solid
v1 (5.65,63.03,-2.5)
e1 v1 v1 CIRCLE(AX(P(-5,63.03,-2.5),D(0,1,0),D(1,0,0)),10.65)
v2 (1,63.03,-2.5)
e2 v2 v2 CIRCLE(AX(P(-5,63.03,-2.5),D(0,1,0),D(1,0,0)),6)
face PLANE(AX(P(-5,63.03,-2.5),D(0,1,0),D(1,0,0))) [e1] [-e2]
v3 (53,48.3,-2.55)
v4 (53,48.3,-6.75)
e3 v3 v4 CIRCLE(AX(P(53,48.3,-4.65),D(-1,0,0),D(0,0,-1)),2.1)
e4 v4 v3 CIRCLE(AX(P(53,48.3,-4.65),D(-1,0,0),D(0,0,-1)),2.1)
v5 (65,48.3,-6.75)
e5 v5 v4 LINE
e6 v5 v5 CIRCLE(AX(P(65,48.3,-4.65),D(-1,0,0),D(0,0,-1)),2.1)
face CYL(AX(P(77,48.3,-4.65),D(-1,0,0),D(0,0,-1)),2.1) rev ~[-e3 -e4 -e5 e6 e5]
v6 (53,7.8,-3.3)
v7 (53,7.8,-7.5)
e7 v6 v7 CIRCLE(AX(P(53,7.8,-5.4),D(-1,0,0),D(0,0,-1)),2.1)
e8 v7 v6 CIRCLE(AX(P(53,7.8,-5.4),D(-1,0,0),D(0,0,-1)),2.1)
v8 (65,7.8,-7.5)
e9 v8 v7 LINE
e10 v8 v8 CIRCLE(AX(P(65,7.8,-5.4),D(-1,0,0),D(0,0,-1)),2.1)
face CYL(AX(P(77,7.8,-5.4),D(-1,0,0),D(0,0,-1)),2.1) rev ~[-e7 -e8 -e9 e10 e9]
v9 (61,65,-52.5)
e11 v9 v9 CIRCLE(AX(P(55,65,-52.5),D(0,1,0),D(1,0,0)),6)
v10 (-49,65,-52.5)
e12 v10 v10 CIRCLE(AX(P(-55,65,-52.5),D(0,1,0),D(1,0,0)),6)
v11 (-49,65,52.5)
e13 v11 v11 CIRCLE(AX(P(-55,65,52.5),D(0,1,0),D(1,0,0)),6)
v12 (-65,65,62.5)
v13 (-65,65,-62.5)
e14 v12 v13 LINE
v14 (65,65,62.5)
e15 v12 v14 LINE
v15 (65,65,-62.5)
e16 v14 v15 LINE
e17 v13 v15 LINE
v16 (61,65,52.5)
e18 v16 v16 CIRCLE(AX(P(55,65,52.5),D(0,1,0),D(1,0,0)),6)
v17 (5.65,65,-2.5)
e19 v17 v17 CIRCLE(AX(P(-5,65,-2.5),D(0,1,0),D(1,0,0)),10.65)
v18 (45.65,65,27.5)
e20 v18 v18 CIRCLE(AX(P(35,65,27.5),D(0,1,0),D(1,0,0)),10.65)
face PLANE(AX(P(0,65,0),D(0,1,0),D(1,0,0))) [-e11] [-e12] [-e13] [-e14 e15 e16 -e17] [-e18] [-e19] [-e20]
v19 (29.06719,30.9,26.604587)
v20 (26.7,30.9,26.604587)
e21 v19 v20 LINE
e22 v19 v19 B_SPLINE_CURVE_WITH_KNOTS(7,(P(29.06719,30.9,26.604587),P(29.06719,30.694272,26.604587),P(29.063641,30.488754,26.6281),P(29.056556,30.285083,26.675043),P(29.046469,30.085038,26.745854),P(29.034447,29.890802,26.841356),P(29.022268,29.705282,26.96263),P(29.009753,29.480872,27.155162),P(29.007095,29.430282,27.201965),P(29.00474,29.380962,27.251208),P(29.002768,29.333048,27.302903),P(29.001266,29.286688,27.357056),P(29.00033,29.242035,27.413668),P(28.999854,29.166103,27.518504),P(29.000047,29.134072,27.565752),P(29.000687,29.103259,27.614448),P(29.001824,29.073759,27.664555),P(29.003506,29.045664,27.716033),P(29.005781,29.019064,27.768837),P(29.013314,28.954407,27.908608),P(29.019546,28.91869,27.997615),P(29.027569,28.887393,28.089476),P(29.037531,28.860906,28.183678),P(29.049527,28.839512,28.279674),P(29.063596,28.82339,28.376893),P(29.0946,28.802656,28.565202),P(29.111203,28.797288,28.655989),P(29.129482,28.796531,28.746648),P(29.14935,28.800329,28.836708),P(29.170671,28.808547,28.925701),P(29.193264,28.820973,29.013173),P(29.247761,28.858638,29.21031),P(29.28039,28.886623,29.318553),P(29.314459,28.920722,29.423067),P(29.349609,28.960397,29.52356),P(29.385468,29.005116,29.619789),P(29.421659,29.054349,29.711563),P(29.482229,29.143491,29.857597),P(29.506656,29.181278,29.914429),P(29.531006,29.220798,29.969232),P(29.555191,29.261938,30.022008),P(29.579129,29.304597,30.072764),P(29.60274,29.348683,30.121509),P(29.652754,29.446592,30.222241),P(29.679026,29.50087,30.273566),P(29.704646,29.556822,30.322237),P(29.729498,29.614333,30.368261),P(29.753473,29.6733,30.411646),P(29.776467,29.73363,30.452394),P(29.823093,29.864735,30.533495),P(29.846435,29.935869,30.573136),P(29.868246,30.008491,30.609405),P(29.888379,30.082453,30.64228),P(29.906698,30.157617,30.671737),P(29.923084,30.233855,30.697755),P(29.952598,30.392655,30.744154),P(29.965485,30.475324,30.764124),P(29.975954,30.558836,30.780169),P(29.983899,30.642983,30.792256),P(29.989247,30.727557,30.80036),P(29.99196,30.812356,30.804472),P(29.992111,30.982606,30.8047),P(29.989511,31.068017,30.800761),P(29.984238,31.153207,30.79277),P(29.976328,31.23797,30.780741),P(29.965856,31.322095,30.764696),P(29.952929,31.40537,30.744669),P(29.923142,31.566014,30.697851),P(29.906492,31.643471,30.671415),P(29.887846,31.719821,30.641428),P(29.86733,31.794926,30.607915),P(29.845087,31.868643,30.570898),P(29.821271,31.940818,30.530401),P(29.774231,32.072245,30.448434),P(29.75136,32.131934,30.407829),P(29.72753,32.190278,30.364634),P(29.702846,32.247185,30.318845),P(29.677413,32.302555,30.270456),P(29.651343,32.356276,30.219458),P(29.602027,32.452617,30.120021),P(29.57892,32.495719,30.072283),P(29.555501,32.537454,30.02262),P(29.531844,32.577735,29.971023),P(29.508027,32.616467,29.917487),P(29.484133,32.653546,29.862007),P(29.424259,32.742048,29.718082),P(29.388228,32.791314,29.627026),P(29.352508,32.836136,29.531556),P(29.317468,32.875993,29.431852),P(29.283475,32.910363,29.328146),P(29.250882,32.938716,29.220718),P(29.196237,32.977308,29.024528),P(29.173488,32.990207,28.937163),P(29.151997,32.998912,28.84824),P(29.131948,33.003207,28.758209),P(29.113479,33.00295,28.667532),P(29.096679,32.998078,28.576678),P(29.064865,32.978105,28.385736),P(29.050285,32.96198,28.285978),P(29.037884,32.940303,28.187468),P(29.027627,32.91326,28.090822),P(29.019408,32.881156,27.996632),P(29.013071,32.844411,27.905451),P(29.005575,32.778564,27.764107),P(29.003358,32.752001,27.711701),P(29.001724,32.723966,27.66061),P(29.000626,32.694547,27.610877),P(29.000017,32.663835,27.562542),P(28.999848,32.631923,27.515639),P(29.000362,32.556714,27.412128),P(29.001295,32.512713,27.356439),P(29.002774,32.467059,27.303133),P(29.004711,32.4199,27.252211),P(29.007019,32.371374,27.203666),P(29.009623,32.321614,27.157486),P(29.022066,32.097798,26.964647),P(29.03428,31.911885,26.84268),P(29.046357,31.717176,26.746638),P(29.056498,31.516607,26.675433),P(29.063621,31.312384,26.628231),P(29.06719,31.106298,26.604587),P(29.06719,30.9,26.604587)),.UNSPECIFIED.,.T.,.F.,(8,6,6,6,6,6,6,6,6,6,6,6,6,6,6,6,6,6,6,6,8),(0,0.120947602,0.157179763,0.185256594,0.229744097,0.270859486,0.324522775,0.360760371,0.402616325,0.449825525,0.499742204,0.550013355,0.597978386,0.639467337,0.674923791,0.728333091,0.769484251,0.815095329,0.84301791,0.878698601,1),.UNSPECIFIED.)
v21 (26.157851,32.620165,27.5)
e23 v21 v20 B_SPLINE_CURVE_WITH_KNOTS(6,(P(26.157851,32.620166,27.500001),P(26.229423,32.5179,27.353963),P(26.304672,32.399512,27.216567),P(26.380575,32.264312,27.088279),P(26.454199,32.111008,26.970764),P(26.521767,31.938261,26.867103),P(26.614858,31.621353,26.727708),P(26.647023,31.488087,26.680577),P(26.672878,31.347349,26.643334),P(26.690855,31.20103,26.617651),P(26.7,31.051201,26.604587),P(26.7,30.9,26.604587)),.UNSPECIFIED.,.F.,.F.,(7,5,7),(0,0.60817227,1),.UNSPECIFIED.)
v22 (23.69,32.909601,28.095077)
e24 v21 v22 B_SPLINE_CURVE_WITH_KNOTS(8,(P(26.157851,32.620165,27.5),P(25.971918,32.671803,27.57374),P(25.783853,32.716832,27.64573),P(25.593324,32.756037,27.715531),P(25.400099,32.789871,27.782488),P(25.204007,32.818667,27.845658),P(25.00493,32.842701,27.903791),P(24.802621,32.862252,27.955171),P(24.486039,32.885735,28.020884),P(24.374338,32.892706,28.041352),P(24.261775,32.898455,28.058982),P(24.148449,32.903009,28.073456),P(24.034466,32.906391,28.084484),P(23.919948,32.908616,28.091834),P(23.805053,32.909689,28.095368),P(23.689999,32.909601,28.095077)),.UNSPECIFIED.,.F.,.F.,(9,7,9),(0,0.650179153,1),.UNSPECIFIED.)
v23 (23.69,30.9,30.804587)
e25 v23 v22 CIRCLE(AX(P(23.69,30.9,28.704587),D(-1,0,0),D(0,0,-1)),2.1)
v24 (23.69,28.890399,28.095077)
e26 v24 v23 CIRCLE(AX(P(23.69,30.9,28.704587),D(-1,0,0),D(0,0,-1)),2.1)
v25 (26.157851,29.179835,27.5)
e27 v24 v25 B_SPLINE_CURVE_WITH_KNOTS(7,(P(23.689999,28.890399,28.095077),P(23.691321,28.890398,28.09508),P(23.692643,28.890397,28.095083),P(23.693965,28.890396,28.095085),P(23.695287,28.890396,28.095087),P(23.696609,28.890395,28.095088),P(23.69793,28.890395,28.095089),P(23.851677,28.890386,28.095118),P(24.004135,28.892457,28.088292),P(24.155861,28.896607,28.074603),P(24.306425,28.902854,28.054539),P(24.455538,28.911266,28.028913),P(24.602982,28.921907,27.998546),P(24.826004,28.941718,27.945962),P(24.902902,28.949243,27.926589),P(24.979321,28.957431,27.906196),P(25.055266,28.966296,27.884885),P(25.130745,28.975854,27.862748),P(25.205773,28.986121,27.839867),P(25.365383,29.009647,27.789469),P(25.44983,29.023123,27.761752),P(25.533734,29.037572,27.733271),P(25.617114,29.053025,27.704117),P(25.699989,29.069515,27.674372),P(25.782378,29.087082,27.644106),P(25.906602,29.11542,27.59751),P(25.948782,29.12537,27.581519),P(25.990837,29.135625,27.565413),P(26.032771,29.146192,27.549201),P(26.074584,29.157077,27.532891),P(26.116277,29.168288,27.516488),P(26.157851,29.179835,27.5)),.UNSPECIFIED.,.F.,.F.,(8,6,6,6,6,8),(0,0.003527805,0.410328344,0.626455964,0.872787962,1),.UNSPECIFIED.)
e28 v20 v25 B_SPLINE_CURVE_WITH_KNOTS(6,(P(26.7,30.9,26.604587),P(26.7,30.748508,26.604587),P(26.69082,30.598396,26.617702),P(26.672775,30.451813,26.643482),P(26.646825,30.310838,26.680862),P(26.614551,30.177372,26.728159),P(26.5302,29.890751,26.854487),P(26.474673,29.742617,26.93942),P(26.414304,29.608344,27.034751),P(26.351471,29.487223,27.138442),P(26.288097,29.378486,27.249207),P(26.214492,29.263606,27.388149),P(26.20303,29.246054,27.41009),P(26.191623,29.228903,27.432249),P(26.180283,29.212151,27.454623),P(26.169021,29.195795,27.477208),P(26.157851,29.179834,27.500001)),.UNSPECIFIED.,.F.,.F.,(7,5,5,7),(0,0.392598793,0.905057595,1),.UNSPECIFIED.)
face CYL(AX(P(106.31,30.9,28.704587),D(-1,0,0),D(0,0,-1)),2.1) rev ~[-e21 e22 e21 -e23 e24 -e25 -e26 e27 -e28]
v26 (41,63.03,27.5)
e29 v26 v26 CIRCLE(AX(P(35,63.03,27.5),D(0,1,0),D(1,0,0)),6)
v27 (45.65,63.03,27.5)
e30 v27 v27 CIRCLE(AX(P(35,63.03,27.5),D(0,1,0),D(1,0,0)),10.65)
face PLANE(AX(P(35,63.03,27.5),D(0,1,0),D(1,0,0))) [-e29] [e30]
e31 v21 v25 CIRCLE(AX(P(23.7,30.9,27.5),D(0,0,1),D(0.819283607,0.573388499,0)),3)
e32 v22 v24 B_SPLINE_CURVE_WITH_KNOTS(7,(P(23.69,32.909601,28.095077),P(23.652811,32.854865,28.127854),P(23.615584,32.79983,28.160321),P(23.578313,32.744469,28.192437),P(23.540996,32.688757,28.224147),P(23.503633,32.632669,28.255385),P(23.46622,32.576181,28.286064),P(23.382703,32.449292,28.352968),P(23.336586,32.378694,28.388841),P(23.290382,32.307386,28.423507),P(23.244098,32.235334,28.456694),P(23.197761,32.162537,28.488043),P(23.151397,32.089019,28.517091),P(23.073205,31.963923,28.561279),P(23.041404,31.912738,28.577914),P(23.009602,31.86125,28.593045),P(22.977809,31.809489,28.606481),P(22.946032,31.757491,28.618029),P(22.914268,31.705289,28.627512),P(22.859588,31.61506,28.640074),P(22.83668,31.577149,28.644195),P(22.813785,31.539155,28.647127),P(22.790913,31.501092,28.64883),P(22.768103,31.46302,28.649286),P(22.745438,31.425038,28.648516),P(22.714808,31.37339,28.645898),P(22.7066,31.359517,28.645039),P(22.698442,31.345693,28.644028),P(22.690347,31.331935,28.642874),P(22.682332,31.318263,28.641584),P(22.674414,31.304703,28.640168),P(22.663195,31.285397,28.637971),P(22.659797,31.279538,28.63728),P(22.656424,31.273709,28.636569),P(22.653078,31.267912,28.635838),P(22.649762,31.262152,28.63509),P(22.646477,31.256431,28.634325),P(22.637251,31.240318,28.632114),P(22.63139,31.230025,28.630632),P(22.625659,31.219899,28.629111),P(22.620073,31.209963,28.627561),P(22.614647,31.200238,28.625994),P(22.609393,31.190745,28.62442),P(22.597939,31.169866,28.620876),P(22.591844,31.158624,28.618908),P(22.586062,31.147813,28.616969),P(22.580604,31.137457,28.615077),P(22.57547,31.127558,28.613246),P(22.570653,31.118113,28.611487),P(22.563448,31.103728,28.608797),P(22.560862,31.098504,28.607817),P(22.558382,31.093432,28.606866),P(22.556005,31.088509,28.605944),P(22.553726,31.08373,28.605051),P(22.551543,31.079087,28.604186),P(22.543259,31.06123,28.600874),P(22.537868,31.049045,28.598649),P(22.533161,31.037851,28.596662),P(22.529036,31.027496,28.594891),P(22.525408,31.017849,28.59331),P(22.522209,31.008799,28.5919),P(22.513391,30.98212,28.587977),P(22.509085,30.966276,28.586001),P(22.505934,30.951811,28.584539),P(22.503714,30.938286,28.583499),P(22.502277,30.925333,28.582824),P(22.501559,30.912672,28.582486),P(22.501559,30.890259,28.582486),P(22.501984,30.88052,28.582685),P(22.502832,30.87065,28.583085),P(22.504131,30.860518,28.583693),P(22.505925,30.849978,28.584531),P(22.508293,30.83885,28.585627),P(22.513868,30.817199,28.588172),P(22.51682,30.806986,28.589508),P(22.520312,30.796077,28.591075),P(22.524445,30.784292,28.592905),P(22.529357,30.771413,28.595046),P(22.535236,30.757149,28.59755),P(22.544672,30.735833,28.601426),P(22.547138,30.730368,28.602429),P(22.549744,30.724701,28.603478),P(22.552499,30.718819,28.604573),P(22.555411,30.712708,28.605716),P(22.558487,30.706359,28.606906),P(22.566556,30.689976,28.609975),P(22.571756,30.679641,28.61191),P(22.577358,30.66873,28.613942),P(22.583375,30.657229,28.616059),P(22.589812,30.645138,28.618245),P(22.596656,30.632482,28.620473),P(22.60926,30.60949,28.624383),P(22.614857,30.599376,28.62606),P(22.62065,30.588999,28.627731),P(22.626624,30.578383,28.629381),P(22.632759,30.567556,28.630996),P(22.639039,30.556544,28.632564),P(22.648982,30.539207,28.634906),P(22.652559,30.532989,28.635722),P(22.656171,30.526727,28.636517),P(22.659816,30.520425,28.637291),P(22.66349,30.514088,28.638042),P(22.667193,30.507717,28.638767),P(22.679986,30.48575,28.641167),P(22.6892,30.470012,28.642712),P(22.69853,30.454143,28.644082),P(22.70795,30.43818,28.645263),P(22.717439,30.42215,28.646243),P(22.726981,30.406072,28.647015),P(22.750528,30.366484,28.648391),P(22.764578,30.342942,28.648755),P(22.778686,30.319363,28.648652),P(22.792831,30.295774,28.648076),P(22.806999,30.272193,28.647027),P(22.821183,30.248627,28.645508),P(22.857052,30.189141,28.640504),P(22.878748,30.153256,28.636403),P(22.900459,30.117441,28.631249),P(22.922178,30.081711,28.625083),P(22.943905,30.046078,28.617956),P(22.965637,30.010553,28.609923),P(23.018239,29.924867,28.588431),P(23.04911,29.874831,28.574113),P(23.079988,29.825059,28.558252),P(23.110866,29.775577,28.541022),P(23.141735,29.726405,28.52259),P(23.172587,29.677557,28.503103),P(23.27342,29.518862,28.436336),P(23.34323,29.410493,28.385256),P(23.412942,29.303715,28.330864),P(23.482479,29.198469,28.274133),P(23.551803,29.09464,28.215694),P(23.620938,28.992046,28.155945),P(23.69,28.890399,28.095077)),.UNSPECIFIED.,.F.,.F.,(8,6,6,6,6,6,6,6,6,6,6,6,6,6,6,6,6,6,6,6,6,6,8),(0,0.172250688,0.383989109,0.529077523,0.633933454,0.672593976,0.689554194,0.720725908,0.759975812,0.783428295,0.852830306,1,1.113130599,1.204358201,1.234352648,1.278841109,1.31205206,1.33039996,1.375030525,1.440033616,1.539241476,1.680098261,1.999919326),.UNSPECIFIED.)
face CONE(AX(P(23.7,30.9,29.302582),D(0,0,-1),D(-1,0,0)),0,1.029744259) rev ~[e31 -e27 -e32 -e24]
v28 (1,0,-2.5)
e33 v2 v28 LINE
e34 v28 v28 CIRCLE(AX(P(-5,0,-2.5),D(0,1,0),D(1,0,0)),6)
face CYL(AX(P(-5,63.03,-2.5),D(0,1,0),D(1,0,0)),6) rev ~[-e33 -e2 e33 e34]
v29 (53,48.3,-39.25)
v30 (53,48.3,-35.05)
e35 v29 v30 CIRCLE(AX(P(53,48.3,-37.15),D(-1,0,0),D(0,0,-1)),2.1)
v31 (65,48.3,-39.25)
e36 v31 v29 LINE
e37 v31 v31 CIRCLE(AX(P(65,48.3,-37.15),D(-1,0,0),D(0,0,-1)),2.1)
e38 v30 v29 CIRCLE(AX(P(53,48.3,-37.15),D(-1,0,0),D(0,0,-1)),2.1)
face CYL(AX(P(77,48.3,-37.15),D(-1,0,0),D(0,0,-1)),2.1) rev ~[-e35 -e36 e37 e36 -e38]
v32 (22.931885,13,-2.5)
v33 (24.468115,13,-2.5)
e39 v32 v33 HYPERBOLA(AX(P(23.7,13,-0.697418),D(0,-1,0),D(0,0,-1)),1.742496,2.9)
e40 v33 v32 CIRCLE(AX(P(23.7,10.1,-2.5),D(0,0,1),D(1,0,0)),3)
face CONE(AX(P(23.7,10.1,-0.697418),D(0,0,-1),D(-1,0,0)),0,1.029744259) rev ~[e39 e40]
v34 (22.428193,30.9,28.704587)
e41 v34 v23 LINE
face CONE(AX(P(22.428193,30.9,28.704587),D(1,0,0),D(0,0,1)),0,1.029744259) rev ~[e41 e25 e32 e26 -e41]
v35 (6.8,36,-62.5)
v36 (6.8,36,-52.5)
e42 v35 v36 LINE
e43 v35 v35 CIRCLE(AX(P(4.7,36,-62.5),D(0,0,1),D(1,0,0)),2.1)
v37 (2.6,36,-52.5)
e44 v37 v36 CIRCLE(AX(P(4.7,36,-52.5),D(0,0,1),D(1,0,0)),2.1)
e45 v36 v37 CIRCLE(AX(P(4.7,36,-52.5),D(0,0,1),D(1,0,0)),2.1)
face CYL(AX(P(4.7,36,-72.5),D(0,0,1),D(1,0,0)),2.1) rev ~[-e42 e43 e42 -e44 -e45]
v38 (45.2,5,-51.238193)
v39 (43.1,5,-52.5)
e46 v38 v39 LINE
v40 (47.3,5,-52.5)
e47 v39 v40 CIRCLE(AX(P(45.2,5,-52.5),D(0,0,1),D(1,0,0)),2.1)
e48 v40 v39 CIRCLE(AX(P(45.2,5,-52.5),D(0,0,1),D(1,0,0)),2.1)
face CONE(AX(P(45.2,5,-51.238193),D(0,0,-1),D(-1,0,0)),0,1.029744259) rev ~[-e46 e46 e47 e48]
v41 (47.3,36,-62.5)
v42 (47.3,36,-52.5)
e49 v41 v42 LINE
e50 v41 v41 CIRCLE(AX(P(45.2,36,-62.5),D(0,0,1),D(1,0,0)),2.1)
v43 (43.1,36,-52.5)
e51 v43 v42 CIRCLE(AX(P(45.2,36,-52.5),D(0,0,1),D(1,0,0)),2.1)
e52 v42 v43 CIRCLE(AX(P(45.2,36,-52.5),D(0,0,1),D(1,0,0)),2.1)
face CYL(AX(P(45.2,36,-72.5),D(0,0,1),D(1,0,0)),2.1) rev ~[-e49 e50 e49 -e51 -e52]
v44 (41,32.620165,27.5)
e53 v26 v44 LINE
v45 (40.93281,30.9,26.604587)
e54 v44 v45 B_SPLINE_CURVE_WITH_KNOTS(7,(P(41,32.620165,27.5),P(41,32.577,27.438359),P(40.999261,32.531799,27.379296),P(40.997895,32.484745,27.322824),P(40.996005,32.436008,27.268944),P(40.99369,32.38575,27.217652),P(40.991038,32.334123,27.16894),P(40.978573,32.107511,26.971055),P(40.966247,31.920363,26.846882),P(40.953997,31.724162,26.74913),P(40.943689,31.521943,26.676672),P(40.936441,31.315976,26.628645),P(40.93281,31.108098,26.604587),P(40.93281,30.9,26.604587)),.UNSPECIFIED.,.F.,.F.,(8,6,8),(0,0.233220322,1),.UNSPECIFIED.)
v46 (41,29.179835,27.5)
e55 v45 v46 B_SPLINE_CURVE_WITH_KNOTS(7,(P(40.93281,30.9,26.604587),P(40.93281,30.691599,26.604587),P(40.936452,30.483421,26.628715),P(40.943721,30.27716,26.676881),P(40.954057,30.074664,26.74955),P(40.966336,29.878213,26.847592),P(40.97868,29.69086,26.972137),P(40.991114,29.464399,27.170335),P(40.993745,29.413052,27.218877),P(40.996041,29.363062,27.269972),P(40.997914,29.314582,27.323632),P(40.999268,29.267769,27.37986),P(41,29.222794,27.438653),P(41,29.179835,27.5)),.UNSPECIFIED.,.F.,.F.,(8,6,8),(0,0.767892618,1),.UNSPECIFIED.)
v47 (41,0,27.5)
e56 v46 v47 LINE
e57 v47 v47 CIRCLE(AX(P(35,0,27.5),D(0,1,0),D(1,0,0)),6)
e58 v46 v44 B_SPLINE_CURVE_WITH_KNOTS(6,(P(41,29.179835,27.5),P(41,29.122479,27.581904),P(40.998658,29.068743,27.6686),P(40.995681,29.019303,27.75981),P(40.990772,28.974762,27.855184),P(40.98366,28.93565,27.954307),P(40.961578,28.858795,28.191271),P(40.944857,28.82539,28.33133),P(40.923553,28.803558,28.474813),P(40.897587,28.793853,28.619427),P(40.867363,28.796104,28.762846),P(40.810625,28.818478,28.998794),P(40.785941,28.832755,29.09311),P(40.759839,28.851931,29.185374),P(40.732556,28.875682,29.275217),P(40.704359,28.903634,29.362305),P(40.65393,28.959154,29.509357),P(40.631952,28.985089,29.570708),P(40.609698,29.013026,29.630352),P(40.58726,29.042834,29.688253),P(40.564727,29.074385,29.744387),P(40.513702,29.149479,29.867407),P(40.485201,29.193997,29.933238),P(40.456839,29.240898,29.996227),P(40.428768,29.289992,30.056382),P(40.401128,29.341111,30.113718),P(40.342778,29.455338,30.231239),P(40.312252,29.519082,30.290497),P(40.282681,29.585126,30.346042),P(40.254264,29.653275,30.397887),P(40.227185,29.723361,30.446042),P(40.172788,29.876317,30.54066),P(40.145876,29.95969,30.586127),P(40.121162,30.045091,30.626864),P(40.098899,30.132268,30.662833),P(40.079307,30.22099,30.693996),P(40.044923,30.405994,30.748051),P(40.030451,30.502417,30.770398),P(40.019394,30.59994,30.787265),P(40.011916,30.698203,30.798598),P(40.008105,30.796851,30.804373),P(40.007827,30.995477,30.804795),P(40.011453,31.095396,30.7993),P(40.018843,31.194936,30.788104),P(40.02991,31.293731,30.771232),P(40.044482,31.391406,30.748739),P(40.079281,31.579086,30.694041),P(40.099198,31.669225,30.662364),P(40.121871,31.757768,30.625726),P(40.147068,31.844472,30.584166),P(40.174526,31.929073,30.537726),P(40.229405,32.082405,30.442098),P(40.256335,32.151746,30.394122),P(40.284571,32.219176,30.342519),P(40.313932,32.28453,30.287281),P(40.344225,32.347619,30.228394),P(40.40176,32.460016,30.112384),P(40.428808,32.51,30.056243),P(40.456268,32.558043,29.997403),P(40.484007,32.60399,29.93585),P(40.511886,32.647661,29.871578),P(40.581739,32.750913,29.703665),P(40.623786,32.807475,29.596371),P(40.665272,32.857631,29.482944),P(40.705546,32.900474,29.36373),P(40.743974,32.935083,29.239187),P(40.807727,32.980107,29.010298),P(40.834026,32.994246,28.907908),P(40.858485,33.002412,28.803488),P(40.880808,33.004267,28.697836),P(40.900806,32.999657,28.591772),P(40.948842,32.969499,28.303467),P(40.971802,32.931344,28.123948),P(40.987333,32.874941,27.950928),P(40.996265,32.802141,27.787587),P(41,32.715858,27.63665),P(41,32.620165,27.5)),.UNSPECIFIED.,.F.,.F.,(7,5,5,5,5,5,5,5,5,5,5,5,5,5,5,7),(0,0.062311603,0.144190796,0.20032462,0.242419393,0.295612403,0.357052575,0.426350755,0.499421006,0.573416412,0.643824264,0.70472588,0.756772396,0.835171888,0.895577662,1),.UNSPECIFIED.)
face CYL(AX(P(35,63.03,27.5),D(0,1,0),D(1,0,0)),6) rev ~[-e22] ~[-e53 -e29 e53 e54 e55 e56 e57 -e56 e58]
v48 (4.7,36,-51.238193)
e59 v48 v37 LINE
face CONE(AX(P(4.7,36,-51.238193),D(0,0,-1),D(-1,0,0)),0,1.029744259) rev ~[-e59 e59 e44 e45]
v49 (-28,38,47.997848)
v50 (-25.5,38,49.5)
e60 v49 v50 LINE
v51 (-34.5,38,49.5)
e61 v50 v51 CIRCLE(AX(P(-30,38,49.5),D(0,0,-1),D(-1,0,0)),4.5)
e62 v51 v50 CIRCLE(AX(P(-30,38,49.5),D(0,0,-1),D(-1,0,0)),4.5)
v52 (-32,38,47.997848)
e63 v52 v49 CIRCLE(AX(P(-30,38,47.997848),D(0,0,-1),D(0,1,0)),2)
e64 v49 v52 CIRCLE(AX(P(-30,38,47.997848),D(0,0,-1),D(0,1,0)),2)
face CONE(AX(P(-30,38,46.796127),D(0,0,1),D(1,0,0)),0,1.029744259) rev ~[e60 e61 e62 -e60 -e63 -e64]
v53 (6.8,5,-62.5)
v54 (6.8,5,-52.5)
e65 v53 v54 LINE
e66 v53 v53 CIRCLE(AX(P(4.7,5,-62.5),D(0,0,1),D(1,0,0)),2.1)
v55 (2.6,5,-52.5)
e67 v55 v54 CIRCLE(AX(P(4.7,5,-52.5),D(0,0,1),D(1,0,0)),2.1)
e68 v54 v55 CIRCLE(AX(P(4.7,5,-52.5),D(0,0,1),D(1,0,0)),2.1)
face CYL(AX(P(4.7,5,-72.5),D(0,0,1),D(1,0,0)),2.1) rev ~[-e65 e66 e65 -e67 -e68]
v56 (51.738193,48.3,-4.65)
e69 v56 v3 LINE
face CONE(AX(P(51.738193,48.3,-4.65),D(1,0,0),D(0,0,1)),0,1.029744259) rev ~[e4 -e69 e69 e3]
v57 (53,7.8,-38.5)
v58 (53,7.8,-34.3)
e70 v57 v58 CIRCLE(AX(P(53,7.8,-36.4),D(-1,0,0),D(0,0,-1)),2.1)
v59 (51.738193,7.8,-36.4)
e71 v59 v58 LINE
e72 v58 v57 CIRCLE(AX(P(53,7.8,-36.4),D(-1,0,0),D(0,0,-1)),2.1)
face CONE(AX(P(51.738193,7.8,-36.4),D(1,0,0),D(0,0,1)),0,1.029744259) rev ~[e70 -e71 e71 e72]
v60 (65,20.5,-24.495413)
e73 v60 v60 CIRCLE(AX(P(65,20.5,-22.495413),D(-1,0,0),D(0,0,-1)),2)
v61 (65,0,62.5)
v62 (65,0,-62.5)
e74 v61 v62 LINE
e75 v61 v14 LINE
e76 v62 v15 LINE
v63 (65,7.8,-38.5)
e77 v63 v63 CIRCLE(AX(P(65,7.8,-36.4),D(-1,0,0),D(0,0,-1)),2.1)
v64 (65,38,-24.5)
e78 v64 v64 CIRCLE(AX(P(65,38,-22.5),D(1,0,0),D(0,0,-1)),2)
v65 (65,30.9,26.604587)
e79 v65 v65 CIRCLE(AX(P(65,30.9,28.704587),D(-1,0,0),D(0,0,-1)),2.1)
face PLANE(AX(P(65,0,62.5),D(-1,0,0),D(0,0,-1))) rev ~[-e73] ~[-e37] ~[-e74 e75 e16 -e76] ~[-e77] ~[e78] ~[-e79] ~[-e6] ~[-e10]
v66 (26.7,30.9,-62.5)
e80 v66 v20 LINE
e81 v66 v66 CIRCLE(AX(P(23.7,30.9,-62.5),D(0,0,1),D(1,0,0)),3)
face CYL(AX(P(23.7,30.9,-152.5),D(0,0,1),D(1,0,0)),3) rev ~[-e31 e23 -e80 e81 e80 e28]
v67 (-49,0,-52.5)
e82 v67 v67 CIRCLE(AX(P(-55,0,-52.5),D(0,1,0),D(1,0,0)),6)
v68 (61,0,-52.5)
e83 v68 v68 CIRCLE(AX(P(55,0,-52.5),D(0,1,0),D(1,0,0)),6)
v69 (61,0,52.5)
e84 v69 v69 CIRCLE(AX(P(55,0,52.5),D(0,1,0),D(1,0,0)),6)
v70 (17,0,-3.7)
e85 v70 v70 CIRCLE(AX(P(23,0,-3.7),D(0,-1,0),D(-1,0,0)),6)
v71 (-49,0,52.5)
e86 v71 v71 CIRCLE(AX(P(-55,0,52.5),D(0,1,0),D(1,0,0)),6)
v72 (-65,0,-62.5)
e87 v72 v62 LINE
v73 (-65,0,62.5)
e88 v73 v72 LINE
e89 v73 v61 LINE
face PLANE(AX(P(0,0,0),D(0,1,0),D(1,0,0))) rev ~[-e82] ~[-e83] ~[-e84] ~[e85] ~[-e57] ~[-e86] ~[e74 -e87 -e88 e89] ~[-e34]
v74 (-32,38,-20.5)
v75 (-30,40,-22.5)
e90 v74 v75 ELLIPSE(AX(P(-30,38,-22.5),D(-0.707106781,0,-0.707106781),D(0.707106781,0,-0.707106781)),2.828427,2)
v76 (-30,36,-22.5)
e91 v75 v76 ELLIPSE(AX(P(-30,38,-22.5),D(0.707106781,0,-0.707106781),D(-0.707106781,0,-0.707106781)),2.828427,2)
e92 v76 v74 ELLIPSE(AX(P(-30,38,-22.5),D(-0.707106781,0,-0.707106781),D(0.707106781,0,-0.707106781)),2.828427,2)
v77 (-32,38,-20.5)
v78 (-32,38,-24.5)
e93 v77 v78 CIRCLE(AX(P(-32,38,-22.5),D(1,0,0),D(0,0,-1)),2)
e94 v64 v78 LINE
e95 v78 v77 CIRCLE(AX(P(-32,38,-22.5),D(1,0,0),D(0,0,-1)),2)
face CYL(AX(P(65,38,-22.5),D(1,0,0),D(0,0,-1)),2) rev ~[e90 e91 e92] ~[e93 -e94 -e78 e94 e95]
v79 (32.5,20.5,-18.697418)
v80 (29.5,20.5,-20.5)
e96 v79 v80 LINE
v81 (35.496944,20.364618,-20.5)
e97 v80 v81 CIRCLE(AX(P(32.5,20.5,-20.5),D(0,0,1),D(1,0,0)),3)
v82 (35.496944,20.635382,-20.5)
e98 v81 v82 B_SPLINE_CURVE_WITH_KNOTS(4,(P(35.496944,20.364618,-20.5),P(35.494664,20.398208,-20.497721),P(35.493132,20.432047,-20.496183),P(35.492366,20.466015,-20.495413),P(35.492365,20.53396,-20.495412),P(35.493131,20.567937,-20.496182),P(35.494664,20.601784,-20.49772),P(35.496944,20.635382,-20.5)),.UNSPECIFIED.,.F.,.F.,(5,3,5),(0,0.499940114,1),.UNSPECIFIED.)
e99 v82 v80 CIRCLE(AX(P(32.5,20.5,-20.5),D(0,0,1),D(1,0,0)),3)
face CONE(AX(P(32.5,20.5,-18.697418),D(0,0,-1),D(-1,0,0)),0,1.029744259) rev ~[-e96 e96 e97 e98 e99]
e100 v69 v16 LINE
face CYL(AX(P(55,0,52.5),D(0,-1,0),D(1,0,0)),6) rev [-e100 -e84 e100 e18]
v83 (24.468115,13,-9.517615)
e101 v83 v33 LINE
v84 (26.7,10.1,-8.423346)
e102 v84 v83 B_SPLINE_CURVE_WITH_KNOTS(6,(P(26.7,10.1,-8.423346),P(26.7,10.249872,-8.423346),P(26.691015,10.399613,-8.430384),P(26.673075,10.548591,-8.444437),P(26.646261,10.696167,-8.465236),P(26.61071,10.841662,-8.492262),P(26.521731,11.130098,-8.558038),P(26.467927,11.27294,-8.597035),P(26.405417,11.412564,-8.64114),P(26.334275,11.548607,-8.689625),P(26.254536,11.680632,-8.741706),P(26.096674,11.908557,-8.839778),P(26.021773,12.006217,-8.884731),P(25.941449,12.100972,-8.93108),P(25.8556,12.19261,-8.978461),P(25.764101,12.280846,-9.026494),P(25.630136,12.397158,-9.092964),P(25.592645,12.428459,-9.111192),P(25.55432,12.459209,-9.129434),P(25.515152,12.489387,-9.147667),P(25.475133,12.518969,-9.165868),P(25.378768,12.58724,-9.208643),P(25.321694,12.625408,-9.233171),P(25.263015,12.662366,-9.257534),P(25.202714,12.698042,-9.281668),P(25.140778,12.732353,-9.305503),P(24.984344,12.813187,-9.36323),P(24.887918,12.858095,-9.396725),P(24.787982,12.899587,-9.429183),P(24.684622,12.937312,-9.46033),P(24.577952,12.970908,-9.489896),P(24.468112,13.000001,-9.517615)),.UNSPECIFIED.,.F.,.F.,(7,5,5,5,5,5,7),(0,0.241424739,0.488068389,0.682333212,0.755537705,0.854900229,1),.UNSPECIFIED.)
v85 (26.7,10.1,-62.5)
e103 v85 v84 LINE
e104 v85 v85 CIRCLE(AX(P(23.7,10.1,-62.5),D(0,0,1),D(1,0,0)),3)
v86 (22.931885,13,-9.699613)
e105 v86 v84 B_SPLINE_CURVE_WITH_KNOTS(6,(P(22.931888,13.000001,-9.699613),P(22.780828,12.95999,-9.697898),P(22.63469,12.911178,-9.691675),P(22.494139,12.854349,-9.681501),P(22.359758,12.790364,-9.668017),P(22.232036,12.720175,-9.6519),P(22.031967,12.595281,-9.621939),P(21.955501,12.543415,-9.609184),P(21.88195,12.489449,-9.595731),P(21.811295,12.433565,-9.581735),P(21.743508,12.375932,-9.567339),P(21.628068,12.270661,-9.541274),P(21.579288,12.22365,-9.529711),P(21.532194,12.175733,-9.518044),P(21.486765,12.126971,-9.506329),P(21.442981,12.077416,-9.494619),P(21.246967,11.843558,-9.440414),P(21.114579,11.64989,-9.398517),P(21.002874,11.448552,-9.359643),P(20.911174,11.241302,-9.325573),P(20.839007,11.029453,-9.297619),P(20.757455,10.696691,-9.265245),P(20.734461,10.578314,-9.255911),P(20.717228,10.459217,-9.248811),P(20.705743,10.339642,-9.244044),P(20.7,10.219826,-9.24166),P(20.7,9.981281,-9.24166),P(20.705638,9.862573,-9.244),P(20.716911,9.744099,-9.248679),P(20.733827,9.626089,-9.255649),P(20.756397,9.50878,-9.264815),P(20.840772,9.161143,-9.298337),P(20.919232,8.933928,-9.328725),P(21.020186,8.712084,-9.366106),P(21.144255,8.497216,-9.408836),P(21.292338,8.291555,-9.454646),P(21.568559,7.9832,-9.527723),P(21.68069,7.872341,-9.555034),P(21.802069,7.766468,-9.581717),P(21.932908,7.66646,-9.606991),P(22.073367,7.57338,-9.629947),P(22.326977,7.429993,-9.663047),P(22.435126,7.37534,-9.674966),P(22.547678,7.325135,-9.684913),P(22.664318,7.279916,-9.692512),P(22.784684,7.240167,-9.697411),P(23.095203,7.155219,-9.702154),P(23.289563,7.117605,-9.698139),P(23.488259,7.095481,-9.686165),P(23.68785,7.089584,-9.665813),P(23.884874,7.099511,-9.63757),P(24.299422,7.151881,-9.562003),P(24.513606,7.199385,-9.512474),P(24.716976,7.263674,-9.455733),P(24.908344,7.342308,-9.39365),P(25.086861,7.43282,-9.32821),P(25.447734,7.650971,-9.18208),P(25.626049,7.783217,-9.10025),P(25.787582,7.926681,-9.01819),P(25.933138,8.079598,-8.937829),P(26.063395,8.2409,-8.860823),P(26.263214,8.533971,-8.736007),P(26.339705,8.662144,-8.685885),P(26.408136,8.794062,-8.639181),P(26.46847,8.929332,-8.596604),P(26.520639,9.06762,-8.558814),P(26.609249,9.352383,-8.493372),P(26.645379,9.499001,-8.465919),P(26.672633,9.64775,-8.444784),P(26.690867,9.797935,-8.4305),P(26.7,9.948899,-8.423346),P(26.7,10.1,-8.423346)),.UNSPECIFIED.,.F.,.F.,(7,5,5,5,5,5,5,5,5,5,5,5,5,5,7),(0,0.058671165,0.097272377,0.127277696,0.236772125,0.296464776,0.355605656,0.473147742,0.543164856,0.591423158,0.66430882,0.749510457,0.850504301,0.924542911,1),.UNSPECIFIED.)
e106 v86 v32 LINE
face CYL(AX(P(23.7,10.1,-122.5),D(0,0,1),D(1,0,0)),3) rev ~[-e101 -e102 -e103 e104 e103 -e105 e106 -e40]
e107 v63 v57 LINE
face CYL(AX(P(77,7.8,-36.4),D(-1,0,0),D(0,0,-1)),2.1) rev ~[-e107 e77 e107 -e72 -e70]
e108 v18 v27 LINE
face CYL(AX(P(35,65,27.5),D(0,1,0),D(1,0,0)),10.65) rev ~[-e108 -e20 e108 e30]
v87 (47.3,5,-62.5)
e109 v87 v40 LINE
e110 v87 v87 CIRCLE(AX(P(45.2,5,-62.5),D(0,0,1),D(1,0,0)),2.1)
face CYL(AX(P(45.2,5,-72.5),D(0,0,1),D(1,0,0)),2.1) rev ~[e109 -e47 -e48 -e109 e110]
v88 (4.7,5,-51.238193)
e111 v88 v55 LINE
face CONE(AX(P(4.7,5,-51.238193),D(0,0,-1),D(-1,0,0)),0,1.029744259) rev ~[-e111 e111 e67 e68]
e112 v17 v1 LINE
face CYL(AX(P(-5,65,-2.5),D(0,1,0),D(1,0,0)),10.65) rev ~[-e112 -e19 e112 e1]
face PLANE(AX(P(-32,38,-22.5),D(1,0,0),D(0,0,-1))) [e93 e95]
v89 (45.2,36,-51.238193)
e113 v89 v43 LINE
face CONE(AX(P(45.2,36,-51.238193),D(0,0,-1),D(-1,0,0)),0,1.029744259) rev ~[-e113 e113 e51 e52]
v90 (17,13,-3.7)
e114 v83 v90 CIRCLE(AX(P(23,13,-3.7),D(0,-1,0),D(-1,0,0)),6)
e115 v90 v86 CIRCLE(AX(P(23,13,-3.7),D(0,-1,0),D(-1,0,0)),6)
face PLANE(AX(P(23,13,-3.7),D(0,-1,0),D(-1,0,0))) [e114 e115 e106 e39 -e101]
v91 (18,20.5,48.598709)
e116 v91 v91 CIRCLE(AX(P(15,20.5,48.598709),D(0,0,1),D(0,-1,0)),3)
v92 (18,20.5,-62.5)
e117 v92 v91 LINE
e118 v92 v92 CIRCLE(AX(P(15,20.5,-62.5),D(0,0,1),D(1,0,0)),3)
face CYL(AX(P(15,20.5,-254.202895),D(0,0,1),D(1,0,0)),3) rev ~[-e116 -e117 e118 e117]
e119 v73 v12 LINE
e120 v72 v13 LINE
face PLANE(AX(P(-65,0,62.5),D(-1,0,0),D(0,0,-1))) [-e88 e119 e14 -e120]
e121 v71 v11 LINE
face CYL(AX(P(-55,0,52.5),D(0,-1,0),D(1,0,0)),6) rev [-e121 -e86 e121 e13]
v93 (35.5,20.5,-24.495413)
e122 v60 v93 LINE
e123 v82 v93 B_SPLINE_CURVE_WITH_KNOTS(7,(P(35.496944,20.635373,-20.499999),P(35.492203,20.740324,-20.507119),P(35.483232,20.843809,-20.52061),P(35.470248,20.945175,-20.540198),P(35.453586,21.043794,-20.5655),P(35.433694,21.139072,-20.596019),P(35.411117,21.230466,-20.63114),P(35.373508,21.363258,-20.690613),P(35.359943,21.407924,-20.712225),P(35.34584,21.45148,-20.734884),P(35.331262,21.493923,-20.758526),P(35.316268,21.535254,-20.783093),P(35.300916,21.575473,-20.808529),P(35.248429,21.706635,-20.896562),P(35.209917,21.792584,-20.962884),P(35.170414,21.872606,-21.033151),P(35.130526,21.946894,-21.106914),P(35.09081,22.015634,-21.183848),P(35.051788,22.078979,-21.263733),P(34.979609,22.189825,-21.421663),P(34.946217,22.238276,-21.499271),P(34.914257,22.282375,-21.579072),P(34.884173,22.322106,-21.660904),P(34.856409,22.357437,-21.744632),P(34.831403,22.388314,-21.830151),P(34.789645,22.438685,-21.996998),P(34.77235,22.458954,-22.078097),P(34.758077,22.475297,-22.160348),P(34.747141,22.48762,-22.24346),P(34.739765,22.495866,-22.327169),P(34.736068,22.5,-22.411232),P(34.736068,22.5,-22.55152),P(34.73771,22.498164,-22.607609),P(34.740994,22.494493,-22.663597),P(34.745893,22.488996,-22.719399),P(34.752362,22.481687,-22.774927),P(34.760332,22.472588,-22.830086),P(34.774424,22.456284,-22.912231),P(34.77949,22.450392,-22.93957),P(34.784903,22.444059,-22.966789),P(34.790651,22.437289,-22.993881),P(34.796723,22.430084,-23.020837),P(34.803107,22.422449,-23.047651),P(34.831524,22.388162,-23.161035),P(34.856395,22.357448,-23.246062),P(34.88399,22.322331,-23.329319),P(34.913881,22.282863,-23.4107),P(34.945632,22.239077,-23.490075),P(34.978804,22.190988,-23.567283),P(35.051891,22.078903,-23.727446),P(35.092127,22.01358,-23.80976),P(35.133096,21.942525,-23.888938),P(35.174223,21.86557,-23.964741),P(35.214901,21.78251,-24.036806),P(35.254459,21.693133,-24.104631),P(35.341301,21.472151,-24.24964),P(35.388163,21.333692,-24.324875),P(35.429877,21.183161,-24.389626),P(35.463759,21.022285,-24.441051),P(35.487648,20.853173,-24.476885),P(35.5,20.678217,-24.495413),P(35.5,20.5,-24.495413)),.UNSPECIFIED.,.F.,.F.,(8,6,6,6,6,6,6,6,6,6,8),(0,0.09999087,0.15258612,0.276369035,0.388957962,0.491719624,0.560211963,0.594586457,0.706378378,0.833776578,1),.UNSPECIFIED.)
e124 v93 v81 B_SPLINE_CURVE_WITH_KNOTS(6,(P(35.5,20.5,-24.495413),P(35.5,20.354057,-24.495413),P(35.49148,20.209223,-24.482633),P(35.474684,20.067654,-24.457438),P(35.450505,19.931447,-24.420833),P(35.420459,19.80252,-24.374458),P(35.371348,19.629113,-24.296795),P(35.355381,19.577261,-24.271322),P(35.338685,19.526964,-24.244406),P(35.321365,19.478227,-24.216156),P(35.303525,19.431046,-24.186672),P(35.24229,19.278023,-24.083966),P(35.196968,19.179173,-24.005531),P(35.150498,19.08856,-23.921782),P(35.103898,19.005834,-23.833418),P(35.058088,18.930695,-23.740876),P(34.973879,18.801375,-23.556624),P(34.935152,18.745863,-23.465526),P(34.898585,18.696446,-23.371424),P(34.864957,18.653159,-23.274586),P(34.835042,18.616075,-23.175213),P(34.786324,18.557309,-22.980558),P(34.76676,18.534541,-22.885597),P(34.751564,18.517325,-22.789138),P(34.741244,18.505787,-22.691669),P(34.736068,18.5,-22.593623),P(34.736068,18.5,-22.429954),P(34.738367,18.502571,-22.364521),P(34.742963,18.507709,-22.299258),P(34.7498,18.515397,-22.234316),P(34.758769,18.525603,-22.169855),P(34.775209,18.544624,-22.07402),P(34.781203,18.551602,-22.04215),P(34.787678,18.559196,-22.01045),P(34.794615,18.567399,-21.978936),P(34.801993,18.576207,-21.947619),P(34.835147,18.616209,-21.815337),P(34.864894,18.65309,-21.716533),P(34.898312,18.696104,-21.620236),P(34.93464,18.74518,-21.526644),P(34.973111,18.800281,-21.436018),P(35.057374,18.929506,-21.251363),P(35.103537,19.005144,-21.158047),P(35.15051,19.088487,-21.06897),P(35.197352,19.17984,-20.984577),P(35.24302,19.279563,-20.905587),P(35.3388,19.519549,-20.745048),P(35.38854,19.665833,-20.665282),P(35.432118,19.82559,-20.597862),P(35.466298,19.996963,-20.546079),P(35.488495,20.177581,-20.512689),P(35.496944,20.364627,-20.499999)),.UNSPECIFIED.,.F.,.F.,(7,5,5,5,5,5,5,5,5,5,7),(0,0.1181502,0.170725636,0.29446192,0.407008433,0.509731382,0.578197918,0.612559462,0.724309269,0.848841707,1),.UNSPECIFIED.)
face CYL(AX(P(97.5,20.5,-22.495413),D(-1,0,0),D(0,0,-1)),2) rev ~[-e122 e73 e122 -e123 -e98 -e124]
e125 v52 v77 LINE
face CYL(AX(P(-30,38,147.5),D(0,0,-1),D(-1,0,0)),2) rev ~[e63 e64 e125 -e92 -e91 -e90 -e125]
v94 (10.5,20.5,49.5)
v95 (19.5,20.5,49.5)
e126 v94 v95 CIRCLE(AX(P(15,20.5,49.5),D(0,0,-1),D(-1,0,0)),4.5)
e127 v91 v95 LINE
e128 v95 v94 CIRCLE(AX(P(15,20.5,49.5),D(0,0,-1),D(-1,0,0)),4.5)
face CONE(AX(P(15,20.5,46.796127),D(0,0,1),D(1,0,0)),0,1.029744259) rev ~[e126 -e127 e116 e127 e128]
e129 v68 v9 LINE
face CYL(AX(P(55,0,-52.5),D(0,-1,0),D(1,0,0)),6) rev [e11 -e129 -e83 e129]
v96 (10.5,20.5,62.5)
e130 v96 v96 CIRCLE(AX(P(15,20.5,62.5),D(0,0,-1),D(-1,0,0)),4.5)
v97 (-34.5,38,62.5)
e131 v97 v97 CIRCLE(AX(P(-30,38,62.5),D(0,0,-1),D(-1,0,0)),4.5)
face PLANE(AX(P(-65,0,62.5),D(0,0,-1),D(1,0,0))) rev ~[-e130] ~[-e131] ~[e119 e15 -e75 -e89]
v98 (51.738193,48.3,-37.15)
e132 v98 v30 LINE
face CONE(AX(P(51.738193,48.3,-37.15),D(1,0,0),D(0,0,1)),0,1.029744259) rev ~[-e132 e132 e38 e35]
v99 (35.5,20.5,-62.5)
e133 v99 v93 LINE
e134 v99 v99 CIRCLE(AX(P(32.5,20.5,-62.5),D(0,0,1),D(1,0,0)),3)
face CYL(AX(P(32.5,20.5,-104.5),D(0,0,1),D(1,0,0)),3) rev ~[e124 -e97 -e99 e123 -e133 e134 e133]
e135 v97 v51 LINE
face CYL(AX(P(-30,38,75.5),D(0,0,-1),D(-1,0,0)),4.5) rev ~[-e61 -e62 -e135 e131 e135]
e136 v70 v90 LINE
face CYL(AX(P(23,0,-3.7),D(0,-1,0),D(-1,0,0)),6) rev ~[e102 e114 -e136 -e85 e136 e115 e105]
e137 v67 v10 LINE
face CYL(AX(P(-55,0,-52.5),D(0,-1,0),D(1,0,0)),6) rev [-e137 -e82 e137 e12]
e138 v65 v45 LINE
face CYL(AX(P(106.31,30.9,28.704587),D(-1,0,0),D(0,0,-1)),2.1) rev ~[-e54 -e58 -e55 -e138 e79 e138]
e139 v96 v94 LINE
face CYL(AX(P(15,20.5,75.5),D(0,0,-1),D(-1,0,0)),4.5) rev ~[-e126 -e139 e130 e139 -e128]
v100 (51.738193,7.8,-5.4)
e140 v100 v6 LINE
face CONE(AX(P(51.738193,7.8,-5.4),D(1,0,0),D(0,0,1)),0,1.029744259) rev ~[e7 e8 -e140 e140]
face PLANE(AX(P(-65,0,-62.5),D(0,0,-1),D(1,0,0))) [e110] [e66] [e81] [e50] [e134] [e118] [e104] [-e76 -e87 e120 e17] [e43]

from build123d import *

# Parameters (mm, degrees)
SKETCH_2_W                 = 130
SKETCH_2_H                 = 125
SKETCH_2_R                 = 6
EXTRUDE_1_DEPTH            = 65
HOLE_WIZARD_M5_3_D         = 4.2
HOLE_WIZARD_M5_3_DEPTH     = 12
HOLE_WIZARD_M5_3_TIP       = 1.2618073
HOLE_WIZARD_4_0_4_9_D      = 4
HOLE_WIZARD_4_0_4_9_DEPTH  = 32.5
HOLE_WIZARD_4_0_4_9_TIP    = 1.201721238
HOLE_WIZARD_6_0_6_1_D      = 6
HOLE_WIZARD_6_0_6_1_DEPTH  = 42
HOLE_WIZARD_6_0_6_1_TIP    = 1.802581857
HOLE_WIZARD_4_0_4_11_D     = 4
HOLE_WIZARD_4_0_4_11_DEPTH = 85
HOLE_WIZARD_4_0_4_11_TIP   = 1.201721238
M10X1_0_1_D                = 9
M10X1_0_1_DEPTH            = 13
M10X1_0_1_TIP              = 2.703872786
HOLE_WIZARD_M5_5_D         = 4.2
HOLE_WIZARD_M5_5_DEPTH     = 10
HOLE_WIZARD_M5_5_TIP       = 1.2618073
HOLE_WIZARD_6_0_6_2_D      = 6
HOLE_WIZARD_6_0_6_2_DEPTH  = 60
HOLE_WIZARD_6_0_6_2_TIP    = 1.802581857
HOLE_WIZARD_6_0_6_3_D      = 6
HOLE_WIZARD_6_0_6_3_DEPTH  = 90
HOLE_WIZARD_6_0_6_3_TIP    = 1.802581857
HOLE_WIZARD_M5_8_D         = 4.2
HOLE_WIZARD_M5_8_DEPTH     = 41.31
HOLE_WIZARD_M5_8_TIP       = 1.2618073
HOLE_WIZARD_6_0_6_4_D      = 6
M10X1_0_2_D                = 9
M10X1_0_2_DEPTH            = 13
M10X1_0_2_TIP              = 2.703872786
SKETCH_73_R                = 10.65
CUT_EXTRUDE_1_DEPTH        = 1.97
SKETCH_74_R                = 6
CUT_EXTRUDE_2_DEPTH        = 64.03
SKETCH_75_R                = 10.65
CUT_EXTRUDE_3_DEPTH        = 1.97
SKETCH_76_R                = 6
CUT_EXTRUDE_4_DEPTH        = 64.03
SKETCH_82_R                = 2
CUT_EXTRUDE_6_DEPTH        = 97
SKETCH_83_R                = 6
CUT_EXTRUDE_7_DEPTH        = 13


with BuildPart() as part:
    # 草图2 → 凸台-拉伸1 (new body)
    with BuildSketch(Plane(origin=(0, 0, 0), x_dir=(1, 0, 0), z_dir=(0, 1, 0))):
        Rectangle(SKETCH_2_W, SKETCH_2_H)
        with Locations((-55, 52.5)):
            Circle(SKETCH_2_R, mode=Mode.SUBTRACT)
        with Locations((55, 52.5)):
            Circle(SKETCH_2_R, mode=Mode.SUBTRACT)
        with Locations((55, -52.5)):
            Circle(SKETCH_2_R, mode=Mode.SUBTRACT)
        with Locations((-55, -52.5)):
            Circle(SKETCH_2_R, mode=Mode.SUBTRACT)
    extrude(amount=EXTRUDE_1_DEPTH)

    # M5 螺纹孔3
    with Locations(Plane(origin=(65, 48.3, -4.65), x_dir=(0, 0, 1), z_dir=(1, 0, 0))):
        with Locations((0, 0), (-32.5, 0), (-31.75, 40.5), (-0.75, 40.5)):
            Hole(HOLE_WIZARD_M5_3_D / 2, depth=HOLE_WIZARD_M5_3_DEPTH)
            with Locations((0, 0, -(HOLE_WIZARD_M5_3_DEPTH + HOLE_WIZARD_M5_3_TIP / 2))):  # 118° drill point
                Cone(0, HOLE_WIZARD_M5_3_D / 2, HOLE_WIZARD_M5_3_TIP, mode=Mode.SUBTRACT)

    # Ø4.0 (4) 直径孔9
    with Locations(Plane(origin=(65, 20.5, -22.49541266), x_dir=(0, 0, 1), z_dir=(1, 0, 0))):
        with Locations((0, 0)):
            Hole(HOLE_WIZARD_4_0_4_9_D / 2, depth=HOLE_WIZARD_4_0_4_9_DEPTH)
            with Locations((0, 0, -(HOLE_WIZARD_4_0_4_9_DEPTH + HOLE_WIZARD_4_0_4_9_TIP / 2))):  # 118° drill point
                Cone(0, HOLE_WIZARD_4_0_4_9_D / 2, HOLE_WIZARD_4_0_4_9_TIP, mode=Mode.SUBTRACT)

    # Ø6.0 (6) 直径孔1
    with Locations(Plane(origin=(32.5, 20.5, -62.5), x_dir=(-1, 0, 0), z_dir=(0, 0, -1))):
        with Locations((0, 0)):
            Hole(HOLE_WIZARD_6_0_6_1_D / 2, depth=HOLE_WIZARD_6_0_6_1_DEPTH)
            with Locations((0, 0, -(HOLE_WIZARD_6_0_6_1_DEPTH + HOLE_WIZARD_6_0_6_1_TIP / 2))):  # 118° drill point
                Cone(0, HOLE_WIZARD_6_0_6_1_D / 2, HOLE_WIZARD_6_0_6_1_TIP, mode=Mode.SUBTRACT)

    # Ø4.0 (4) 直径孔11
    with Locations(Plane(origin=(-30, 38, 62.5), x_dir=(1, 0, 0), z_dir=(0, 0, 1))):
        with Locations((0, 0)):
            Hole(HOLE_WIZARD_4_0_4_11_D / 2, depth=HOLE_WIZARD_4_0_4_11_DEPTH)
            with Locations((0, 0, -(HOLE_WIZARD_4_0_4_11_DEPTH + HOLE_WIZARD_4_0_4_11_TIP / 2))):  # 118° drill point
                Cone(0, HOLE_WIZARD_4_0_4_11_D / 2, HOLE_WIZARD_4_0_4_11_TIP, mode=Mode.SUBTRACT)

    # M10x1.0 螺纹孔1
    with Locations(Plane(origin=(-30, 38, 62.5), x_dir=(1, 0, 0), z_dir=(0, 0, 1))):
        with Locations((0, 0)):
            Hole(M10X1_0_1_D / 2, depth=M10X1_0_1_DEPTH)
            with Locations((0, 0, -(M10X1_0_1_DEPTH + M10X1_0_1_TIP / 2))):  # 118° drill point
                Cone(0, M10X1_0_1_D / 2, M10X1_0_1_TIP, mode=Mode.SUBTRACT)

    # M5 螺纹孔5
    with Locations(Plane(origin=(4.7, 36, -62.5), x_dir=(-1, 0, 0), z_dir=(0, 0, -1))):
        with Locations((0, 0), (-40.5, 0), (-40.5, -31), (0, -31)):
            Hole(HOLE_WIZARD_M5_5_D / 2, depth=HOLE_WIZARD_M5_5_DEPTH)
            with Locations((0, 0, -(HOLE_WIZARD_M5_5_DEPTH + HOLE_WIZARD_M5_5_TIP / 2))):  # 118° drill point
                Cone(0, HOLE_WIZARD_M5_5_D / 2, HOLE_WIZARD_M5_5_TIP, mode=Mode.SUBTRACT)

    # Ø6.0 (6) 直径孔2
    with Locations(Plane(origin=(23.7, 10.1, -62.5), x_dir=(-1, 0, 0), z_dir=(0, 0, -1))):
        with Locations((0, 0)):
            Hole(HOLE_WIZARD_6_0_6_2_D / 2, depth=HOLE_WIZARD_6_0_6_2_DEPTH)
            with Locations((0, 0, -(HOLE_WIZARD_6_0_6_2_DEPTH + HOLE_WIZARD_6_0_6_2_TIP / 2))):  # 118° drill point
                Cone(0, HOLE_WIZARD_6_0_6_2_D / 2, HOLE_WIZARD_6_0_6_2_TIP, mode=Mode.SUBTRACT)

    # Ø6.0 (6) 直径孔3
    with Locations(Plane(origin=(23.7, 30.9, -62.5), x_dir=(-1, 0, 0), z_dir=(0, 0, -1))):
        with Locations((0, 0)):
            Hole(HOLE_WIZARD_6_0_6_3_D / 2, depth=HOLE_WIZARD_6_0_6_3_DEPTH)
            with Locations((0, 0, -(HOLE_WIZARD_6_0_6_3_DEPTH + HOLE_WIZARD_6_0_6_3_TIP / 2))):  # 118° drill point
                Cone(0, HOLE_WIZARD_6_0_6_3_D / 2, HOLE_WIZARD_6_0_6_3_TIP, mode=Mode.SUBTRACT)

    # M5 螺纹孔8
    with Locations(Plane(origin=(65, 30.9, 28.70458734), x_dir=(0, 0, 1), z_dir=(1, 0, 0))):
        with Locations((0, 0)):
            Hole(HOLE_WIZARD_M5_8_D / 2, depth=HOLE_WIZARD_M5_8_DEPTH)
            with Locations((0, 0, -(HOLE_WIZARD_M5_8_DEPTH + HOLE_WIZARD_M5_8_TIP / 2))):  # 118° drill point
                Cone(0, HOLE_WIZARD_M5_8_D / 2, HOLE_WIZARD_M5_8_TIP, mode=Mode.SUBTRACT)

    # Ø6.0 (6) 直径孔4 (through all)
    with Locations(Plane(origin=(15, 20.5, -62.5), x_dir=(-1, 0, 0), z_dir=(0, 0, -1))):
        with Locations((0, 0)):
            Hole(HOLE_WIZARD_6_0_6_4_D / 2)

    # M10x1.0 螺纹孔2
    with Locations(Plane(origin=(15, 20.5, 62.5), x_dir=(1, 0, 0), z_dir=(0, 0, 1))):
        with Locations((0, 0)):
            Hole(M10X1_0_2_D / 2, depth=M10X1_0_2_DEPTH)
            with Locations((0, 0, -(M10X1_0_2_DEPTH + M10X1_0_2_TIP / 2))):  # 118° drill point
                Cone(0, M10X1_0_2_D / 2, M10X1_0_2_TIP, mode=Mode.SUBTRACT)

    # 草图73 → 切除-拉伸1 (cut)
    with BuildSketch(Plane(origin=(0, 65, 0), x_dir=(1, 0, 0), z_dir=(0, 1, 0))):
        with Locations((-5, 2.5)):
            Circle(SKETCH_73_R)
    extrude(amount=-CUT_EXTRUDE_1_DEPTH, mode=Mode.SUBTRACT)

    # 草图74 → 切除-拉伸2 (cut, through all)
    with BuildSketch(Plane(origin=(0, 63.03, 0), x_dir=(1, 0, 0), z_dir=(0, 1, 0))):
        with Locations((-5, 2.5)):
            Circle(SKETCH_74_R)
    extrude(amount=-CUT_EXTRUDE_2_DEPTH, mode=Mode.SUBTRACT)

    # 草图75 → 切除-拉伸3 (cut)
    with BuildSketch(Plane(origin=(0, 65, 0), x_dir=(1, 0, 0), z_dir=(0, 1, 0))):
        with Locations((35, -27.5)):
            Circle(SKETCH_75_R)
    extrude(amount=-CUT_EXTRUDE_3_DEPTH, mode=Mode.SUBTRACT)

    # 草图76 → 切除-拉伸4 (cut, through all)
    with BuildSketch(Plane(origin=(0, 63.03, 0), x_dir=(1, 0, 0), z_dir=(0, 1, 0))):
        with Locations((35, -27.5)):
            Circle(SKETCH_76_R)
    extrude(amount=-CUT_EXTRUDE_4_DEPTH, mode=Mode.SUBTRACT)

    # 草图82 → 切除-拉伸6 (cut)
    with BuildSketch(Plane(origin=(65, 0, 0), x_dir=(0, 0, -1), z_dir=(1, 0, 0))):
        with Locations((22.5, 38)):
            Circle(SKETCH_82_R)
    extrude(amount=-CUT_EXTRUDE_6_DEPTH, mode=Mode.SUBTRACT)

    # 草图83 → 切除-拉伸7 (cut)
    with BuildSketch(Plane(origin=(0, 0, 0), x_dir=(-1, 0, 0), z_dir=(0, -1, 0))):
        with Locations((-23, 3.7)):
            Circle(SKETCH_83_R)
    extrude(amount=-CUT_EXTRUDE_7_DEPTH, mode=Mode.SUBTRACT)


solid = part.part
